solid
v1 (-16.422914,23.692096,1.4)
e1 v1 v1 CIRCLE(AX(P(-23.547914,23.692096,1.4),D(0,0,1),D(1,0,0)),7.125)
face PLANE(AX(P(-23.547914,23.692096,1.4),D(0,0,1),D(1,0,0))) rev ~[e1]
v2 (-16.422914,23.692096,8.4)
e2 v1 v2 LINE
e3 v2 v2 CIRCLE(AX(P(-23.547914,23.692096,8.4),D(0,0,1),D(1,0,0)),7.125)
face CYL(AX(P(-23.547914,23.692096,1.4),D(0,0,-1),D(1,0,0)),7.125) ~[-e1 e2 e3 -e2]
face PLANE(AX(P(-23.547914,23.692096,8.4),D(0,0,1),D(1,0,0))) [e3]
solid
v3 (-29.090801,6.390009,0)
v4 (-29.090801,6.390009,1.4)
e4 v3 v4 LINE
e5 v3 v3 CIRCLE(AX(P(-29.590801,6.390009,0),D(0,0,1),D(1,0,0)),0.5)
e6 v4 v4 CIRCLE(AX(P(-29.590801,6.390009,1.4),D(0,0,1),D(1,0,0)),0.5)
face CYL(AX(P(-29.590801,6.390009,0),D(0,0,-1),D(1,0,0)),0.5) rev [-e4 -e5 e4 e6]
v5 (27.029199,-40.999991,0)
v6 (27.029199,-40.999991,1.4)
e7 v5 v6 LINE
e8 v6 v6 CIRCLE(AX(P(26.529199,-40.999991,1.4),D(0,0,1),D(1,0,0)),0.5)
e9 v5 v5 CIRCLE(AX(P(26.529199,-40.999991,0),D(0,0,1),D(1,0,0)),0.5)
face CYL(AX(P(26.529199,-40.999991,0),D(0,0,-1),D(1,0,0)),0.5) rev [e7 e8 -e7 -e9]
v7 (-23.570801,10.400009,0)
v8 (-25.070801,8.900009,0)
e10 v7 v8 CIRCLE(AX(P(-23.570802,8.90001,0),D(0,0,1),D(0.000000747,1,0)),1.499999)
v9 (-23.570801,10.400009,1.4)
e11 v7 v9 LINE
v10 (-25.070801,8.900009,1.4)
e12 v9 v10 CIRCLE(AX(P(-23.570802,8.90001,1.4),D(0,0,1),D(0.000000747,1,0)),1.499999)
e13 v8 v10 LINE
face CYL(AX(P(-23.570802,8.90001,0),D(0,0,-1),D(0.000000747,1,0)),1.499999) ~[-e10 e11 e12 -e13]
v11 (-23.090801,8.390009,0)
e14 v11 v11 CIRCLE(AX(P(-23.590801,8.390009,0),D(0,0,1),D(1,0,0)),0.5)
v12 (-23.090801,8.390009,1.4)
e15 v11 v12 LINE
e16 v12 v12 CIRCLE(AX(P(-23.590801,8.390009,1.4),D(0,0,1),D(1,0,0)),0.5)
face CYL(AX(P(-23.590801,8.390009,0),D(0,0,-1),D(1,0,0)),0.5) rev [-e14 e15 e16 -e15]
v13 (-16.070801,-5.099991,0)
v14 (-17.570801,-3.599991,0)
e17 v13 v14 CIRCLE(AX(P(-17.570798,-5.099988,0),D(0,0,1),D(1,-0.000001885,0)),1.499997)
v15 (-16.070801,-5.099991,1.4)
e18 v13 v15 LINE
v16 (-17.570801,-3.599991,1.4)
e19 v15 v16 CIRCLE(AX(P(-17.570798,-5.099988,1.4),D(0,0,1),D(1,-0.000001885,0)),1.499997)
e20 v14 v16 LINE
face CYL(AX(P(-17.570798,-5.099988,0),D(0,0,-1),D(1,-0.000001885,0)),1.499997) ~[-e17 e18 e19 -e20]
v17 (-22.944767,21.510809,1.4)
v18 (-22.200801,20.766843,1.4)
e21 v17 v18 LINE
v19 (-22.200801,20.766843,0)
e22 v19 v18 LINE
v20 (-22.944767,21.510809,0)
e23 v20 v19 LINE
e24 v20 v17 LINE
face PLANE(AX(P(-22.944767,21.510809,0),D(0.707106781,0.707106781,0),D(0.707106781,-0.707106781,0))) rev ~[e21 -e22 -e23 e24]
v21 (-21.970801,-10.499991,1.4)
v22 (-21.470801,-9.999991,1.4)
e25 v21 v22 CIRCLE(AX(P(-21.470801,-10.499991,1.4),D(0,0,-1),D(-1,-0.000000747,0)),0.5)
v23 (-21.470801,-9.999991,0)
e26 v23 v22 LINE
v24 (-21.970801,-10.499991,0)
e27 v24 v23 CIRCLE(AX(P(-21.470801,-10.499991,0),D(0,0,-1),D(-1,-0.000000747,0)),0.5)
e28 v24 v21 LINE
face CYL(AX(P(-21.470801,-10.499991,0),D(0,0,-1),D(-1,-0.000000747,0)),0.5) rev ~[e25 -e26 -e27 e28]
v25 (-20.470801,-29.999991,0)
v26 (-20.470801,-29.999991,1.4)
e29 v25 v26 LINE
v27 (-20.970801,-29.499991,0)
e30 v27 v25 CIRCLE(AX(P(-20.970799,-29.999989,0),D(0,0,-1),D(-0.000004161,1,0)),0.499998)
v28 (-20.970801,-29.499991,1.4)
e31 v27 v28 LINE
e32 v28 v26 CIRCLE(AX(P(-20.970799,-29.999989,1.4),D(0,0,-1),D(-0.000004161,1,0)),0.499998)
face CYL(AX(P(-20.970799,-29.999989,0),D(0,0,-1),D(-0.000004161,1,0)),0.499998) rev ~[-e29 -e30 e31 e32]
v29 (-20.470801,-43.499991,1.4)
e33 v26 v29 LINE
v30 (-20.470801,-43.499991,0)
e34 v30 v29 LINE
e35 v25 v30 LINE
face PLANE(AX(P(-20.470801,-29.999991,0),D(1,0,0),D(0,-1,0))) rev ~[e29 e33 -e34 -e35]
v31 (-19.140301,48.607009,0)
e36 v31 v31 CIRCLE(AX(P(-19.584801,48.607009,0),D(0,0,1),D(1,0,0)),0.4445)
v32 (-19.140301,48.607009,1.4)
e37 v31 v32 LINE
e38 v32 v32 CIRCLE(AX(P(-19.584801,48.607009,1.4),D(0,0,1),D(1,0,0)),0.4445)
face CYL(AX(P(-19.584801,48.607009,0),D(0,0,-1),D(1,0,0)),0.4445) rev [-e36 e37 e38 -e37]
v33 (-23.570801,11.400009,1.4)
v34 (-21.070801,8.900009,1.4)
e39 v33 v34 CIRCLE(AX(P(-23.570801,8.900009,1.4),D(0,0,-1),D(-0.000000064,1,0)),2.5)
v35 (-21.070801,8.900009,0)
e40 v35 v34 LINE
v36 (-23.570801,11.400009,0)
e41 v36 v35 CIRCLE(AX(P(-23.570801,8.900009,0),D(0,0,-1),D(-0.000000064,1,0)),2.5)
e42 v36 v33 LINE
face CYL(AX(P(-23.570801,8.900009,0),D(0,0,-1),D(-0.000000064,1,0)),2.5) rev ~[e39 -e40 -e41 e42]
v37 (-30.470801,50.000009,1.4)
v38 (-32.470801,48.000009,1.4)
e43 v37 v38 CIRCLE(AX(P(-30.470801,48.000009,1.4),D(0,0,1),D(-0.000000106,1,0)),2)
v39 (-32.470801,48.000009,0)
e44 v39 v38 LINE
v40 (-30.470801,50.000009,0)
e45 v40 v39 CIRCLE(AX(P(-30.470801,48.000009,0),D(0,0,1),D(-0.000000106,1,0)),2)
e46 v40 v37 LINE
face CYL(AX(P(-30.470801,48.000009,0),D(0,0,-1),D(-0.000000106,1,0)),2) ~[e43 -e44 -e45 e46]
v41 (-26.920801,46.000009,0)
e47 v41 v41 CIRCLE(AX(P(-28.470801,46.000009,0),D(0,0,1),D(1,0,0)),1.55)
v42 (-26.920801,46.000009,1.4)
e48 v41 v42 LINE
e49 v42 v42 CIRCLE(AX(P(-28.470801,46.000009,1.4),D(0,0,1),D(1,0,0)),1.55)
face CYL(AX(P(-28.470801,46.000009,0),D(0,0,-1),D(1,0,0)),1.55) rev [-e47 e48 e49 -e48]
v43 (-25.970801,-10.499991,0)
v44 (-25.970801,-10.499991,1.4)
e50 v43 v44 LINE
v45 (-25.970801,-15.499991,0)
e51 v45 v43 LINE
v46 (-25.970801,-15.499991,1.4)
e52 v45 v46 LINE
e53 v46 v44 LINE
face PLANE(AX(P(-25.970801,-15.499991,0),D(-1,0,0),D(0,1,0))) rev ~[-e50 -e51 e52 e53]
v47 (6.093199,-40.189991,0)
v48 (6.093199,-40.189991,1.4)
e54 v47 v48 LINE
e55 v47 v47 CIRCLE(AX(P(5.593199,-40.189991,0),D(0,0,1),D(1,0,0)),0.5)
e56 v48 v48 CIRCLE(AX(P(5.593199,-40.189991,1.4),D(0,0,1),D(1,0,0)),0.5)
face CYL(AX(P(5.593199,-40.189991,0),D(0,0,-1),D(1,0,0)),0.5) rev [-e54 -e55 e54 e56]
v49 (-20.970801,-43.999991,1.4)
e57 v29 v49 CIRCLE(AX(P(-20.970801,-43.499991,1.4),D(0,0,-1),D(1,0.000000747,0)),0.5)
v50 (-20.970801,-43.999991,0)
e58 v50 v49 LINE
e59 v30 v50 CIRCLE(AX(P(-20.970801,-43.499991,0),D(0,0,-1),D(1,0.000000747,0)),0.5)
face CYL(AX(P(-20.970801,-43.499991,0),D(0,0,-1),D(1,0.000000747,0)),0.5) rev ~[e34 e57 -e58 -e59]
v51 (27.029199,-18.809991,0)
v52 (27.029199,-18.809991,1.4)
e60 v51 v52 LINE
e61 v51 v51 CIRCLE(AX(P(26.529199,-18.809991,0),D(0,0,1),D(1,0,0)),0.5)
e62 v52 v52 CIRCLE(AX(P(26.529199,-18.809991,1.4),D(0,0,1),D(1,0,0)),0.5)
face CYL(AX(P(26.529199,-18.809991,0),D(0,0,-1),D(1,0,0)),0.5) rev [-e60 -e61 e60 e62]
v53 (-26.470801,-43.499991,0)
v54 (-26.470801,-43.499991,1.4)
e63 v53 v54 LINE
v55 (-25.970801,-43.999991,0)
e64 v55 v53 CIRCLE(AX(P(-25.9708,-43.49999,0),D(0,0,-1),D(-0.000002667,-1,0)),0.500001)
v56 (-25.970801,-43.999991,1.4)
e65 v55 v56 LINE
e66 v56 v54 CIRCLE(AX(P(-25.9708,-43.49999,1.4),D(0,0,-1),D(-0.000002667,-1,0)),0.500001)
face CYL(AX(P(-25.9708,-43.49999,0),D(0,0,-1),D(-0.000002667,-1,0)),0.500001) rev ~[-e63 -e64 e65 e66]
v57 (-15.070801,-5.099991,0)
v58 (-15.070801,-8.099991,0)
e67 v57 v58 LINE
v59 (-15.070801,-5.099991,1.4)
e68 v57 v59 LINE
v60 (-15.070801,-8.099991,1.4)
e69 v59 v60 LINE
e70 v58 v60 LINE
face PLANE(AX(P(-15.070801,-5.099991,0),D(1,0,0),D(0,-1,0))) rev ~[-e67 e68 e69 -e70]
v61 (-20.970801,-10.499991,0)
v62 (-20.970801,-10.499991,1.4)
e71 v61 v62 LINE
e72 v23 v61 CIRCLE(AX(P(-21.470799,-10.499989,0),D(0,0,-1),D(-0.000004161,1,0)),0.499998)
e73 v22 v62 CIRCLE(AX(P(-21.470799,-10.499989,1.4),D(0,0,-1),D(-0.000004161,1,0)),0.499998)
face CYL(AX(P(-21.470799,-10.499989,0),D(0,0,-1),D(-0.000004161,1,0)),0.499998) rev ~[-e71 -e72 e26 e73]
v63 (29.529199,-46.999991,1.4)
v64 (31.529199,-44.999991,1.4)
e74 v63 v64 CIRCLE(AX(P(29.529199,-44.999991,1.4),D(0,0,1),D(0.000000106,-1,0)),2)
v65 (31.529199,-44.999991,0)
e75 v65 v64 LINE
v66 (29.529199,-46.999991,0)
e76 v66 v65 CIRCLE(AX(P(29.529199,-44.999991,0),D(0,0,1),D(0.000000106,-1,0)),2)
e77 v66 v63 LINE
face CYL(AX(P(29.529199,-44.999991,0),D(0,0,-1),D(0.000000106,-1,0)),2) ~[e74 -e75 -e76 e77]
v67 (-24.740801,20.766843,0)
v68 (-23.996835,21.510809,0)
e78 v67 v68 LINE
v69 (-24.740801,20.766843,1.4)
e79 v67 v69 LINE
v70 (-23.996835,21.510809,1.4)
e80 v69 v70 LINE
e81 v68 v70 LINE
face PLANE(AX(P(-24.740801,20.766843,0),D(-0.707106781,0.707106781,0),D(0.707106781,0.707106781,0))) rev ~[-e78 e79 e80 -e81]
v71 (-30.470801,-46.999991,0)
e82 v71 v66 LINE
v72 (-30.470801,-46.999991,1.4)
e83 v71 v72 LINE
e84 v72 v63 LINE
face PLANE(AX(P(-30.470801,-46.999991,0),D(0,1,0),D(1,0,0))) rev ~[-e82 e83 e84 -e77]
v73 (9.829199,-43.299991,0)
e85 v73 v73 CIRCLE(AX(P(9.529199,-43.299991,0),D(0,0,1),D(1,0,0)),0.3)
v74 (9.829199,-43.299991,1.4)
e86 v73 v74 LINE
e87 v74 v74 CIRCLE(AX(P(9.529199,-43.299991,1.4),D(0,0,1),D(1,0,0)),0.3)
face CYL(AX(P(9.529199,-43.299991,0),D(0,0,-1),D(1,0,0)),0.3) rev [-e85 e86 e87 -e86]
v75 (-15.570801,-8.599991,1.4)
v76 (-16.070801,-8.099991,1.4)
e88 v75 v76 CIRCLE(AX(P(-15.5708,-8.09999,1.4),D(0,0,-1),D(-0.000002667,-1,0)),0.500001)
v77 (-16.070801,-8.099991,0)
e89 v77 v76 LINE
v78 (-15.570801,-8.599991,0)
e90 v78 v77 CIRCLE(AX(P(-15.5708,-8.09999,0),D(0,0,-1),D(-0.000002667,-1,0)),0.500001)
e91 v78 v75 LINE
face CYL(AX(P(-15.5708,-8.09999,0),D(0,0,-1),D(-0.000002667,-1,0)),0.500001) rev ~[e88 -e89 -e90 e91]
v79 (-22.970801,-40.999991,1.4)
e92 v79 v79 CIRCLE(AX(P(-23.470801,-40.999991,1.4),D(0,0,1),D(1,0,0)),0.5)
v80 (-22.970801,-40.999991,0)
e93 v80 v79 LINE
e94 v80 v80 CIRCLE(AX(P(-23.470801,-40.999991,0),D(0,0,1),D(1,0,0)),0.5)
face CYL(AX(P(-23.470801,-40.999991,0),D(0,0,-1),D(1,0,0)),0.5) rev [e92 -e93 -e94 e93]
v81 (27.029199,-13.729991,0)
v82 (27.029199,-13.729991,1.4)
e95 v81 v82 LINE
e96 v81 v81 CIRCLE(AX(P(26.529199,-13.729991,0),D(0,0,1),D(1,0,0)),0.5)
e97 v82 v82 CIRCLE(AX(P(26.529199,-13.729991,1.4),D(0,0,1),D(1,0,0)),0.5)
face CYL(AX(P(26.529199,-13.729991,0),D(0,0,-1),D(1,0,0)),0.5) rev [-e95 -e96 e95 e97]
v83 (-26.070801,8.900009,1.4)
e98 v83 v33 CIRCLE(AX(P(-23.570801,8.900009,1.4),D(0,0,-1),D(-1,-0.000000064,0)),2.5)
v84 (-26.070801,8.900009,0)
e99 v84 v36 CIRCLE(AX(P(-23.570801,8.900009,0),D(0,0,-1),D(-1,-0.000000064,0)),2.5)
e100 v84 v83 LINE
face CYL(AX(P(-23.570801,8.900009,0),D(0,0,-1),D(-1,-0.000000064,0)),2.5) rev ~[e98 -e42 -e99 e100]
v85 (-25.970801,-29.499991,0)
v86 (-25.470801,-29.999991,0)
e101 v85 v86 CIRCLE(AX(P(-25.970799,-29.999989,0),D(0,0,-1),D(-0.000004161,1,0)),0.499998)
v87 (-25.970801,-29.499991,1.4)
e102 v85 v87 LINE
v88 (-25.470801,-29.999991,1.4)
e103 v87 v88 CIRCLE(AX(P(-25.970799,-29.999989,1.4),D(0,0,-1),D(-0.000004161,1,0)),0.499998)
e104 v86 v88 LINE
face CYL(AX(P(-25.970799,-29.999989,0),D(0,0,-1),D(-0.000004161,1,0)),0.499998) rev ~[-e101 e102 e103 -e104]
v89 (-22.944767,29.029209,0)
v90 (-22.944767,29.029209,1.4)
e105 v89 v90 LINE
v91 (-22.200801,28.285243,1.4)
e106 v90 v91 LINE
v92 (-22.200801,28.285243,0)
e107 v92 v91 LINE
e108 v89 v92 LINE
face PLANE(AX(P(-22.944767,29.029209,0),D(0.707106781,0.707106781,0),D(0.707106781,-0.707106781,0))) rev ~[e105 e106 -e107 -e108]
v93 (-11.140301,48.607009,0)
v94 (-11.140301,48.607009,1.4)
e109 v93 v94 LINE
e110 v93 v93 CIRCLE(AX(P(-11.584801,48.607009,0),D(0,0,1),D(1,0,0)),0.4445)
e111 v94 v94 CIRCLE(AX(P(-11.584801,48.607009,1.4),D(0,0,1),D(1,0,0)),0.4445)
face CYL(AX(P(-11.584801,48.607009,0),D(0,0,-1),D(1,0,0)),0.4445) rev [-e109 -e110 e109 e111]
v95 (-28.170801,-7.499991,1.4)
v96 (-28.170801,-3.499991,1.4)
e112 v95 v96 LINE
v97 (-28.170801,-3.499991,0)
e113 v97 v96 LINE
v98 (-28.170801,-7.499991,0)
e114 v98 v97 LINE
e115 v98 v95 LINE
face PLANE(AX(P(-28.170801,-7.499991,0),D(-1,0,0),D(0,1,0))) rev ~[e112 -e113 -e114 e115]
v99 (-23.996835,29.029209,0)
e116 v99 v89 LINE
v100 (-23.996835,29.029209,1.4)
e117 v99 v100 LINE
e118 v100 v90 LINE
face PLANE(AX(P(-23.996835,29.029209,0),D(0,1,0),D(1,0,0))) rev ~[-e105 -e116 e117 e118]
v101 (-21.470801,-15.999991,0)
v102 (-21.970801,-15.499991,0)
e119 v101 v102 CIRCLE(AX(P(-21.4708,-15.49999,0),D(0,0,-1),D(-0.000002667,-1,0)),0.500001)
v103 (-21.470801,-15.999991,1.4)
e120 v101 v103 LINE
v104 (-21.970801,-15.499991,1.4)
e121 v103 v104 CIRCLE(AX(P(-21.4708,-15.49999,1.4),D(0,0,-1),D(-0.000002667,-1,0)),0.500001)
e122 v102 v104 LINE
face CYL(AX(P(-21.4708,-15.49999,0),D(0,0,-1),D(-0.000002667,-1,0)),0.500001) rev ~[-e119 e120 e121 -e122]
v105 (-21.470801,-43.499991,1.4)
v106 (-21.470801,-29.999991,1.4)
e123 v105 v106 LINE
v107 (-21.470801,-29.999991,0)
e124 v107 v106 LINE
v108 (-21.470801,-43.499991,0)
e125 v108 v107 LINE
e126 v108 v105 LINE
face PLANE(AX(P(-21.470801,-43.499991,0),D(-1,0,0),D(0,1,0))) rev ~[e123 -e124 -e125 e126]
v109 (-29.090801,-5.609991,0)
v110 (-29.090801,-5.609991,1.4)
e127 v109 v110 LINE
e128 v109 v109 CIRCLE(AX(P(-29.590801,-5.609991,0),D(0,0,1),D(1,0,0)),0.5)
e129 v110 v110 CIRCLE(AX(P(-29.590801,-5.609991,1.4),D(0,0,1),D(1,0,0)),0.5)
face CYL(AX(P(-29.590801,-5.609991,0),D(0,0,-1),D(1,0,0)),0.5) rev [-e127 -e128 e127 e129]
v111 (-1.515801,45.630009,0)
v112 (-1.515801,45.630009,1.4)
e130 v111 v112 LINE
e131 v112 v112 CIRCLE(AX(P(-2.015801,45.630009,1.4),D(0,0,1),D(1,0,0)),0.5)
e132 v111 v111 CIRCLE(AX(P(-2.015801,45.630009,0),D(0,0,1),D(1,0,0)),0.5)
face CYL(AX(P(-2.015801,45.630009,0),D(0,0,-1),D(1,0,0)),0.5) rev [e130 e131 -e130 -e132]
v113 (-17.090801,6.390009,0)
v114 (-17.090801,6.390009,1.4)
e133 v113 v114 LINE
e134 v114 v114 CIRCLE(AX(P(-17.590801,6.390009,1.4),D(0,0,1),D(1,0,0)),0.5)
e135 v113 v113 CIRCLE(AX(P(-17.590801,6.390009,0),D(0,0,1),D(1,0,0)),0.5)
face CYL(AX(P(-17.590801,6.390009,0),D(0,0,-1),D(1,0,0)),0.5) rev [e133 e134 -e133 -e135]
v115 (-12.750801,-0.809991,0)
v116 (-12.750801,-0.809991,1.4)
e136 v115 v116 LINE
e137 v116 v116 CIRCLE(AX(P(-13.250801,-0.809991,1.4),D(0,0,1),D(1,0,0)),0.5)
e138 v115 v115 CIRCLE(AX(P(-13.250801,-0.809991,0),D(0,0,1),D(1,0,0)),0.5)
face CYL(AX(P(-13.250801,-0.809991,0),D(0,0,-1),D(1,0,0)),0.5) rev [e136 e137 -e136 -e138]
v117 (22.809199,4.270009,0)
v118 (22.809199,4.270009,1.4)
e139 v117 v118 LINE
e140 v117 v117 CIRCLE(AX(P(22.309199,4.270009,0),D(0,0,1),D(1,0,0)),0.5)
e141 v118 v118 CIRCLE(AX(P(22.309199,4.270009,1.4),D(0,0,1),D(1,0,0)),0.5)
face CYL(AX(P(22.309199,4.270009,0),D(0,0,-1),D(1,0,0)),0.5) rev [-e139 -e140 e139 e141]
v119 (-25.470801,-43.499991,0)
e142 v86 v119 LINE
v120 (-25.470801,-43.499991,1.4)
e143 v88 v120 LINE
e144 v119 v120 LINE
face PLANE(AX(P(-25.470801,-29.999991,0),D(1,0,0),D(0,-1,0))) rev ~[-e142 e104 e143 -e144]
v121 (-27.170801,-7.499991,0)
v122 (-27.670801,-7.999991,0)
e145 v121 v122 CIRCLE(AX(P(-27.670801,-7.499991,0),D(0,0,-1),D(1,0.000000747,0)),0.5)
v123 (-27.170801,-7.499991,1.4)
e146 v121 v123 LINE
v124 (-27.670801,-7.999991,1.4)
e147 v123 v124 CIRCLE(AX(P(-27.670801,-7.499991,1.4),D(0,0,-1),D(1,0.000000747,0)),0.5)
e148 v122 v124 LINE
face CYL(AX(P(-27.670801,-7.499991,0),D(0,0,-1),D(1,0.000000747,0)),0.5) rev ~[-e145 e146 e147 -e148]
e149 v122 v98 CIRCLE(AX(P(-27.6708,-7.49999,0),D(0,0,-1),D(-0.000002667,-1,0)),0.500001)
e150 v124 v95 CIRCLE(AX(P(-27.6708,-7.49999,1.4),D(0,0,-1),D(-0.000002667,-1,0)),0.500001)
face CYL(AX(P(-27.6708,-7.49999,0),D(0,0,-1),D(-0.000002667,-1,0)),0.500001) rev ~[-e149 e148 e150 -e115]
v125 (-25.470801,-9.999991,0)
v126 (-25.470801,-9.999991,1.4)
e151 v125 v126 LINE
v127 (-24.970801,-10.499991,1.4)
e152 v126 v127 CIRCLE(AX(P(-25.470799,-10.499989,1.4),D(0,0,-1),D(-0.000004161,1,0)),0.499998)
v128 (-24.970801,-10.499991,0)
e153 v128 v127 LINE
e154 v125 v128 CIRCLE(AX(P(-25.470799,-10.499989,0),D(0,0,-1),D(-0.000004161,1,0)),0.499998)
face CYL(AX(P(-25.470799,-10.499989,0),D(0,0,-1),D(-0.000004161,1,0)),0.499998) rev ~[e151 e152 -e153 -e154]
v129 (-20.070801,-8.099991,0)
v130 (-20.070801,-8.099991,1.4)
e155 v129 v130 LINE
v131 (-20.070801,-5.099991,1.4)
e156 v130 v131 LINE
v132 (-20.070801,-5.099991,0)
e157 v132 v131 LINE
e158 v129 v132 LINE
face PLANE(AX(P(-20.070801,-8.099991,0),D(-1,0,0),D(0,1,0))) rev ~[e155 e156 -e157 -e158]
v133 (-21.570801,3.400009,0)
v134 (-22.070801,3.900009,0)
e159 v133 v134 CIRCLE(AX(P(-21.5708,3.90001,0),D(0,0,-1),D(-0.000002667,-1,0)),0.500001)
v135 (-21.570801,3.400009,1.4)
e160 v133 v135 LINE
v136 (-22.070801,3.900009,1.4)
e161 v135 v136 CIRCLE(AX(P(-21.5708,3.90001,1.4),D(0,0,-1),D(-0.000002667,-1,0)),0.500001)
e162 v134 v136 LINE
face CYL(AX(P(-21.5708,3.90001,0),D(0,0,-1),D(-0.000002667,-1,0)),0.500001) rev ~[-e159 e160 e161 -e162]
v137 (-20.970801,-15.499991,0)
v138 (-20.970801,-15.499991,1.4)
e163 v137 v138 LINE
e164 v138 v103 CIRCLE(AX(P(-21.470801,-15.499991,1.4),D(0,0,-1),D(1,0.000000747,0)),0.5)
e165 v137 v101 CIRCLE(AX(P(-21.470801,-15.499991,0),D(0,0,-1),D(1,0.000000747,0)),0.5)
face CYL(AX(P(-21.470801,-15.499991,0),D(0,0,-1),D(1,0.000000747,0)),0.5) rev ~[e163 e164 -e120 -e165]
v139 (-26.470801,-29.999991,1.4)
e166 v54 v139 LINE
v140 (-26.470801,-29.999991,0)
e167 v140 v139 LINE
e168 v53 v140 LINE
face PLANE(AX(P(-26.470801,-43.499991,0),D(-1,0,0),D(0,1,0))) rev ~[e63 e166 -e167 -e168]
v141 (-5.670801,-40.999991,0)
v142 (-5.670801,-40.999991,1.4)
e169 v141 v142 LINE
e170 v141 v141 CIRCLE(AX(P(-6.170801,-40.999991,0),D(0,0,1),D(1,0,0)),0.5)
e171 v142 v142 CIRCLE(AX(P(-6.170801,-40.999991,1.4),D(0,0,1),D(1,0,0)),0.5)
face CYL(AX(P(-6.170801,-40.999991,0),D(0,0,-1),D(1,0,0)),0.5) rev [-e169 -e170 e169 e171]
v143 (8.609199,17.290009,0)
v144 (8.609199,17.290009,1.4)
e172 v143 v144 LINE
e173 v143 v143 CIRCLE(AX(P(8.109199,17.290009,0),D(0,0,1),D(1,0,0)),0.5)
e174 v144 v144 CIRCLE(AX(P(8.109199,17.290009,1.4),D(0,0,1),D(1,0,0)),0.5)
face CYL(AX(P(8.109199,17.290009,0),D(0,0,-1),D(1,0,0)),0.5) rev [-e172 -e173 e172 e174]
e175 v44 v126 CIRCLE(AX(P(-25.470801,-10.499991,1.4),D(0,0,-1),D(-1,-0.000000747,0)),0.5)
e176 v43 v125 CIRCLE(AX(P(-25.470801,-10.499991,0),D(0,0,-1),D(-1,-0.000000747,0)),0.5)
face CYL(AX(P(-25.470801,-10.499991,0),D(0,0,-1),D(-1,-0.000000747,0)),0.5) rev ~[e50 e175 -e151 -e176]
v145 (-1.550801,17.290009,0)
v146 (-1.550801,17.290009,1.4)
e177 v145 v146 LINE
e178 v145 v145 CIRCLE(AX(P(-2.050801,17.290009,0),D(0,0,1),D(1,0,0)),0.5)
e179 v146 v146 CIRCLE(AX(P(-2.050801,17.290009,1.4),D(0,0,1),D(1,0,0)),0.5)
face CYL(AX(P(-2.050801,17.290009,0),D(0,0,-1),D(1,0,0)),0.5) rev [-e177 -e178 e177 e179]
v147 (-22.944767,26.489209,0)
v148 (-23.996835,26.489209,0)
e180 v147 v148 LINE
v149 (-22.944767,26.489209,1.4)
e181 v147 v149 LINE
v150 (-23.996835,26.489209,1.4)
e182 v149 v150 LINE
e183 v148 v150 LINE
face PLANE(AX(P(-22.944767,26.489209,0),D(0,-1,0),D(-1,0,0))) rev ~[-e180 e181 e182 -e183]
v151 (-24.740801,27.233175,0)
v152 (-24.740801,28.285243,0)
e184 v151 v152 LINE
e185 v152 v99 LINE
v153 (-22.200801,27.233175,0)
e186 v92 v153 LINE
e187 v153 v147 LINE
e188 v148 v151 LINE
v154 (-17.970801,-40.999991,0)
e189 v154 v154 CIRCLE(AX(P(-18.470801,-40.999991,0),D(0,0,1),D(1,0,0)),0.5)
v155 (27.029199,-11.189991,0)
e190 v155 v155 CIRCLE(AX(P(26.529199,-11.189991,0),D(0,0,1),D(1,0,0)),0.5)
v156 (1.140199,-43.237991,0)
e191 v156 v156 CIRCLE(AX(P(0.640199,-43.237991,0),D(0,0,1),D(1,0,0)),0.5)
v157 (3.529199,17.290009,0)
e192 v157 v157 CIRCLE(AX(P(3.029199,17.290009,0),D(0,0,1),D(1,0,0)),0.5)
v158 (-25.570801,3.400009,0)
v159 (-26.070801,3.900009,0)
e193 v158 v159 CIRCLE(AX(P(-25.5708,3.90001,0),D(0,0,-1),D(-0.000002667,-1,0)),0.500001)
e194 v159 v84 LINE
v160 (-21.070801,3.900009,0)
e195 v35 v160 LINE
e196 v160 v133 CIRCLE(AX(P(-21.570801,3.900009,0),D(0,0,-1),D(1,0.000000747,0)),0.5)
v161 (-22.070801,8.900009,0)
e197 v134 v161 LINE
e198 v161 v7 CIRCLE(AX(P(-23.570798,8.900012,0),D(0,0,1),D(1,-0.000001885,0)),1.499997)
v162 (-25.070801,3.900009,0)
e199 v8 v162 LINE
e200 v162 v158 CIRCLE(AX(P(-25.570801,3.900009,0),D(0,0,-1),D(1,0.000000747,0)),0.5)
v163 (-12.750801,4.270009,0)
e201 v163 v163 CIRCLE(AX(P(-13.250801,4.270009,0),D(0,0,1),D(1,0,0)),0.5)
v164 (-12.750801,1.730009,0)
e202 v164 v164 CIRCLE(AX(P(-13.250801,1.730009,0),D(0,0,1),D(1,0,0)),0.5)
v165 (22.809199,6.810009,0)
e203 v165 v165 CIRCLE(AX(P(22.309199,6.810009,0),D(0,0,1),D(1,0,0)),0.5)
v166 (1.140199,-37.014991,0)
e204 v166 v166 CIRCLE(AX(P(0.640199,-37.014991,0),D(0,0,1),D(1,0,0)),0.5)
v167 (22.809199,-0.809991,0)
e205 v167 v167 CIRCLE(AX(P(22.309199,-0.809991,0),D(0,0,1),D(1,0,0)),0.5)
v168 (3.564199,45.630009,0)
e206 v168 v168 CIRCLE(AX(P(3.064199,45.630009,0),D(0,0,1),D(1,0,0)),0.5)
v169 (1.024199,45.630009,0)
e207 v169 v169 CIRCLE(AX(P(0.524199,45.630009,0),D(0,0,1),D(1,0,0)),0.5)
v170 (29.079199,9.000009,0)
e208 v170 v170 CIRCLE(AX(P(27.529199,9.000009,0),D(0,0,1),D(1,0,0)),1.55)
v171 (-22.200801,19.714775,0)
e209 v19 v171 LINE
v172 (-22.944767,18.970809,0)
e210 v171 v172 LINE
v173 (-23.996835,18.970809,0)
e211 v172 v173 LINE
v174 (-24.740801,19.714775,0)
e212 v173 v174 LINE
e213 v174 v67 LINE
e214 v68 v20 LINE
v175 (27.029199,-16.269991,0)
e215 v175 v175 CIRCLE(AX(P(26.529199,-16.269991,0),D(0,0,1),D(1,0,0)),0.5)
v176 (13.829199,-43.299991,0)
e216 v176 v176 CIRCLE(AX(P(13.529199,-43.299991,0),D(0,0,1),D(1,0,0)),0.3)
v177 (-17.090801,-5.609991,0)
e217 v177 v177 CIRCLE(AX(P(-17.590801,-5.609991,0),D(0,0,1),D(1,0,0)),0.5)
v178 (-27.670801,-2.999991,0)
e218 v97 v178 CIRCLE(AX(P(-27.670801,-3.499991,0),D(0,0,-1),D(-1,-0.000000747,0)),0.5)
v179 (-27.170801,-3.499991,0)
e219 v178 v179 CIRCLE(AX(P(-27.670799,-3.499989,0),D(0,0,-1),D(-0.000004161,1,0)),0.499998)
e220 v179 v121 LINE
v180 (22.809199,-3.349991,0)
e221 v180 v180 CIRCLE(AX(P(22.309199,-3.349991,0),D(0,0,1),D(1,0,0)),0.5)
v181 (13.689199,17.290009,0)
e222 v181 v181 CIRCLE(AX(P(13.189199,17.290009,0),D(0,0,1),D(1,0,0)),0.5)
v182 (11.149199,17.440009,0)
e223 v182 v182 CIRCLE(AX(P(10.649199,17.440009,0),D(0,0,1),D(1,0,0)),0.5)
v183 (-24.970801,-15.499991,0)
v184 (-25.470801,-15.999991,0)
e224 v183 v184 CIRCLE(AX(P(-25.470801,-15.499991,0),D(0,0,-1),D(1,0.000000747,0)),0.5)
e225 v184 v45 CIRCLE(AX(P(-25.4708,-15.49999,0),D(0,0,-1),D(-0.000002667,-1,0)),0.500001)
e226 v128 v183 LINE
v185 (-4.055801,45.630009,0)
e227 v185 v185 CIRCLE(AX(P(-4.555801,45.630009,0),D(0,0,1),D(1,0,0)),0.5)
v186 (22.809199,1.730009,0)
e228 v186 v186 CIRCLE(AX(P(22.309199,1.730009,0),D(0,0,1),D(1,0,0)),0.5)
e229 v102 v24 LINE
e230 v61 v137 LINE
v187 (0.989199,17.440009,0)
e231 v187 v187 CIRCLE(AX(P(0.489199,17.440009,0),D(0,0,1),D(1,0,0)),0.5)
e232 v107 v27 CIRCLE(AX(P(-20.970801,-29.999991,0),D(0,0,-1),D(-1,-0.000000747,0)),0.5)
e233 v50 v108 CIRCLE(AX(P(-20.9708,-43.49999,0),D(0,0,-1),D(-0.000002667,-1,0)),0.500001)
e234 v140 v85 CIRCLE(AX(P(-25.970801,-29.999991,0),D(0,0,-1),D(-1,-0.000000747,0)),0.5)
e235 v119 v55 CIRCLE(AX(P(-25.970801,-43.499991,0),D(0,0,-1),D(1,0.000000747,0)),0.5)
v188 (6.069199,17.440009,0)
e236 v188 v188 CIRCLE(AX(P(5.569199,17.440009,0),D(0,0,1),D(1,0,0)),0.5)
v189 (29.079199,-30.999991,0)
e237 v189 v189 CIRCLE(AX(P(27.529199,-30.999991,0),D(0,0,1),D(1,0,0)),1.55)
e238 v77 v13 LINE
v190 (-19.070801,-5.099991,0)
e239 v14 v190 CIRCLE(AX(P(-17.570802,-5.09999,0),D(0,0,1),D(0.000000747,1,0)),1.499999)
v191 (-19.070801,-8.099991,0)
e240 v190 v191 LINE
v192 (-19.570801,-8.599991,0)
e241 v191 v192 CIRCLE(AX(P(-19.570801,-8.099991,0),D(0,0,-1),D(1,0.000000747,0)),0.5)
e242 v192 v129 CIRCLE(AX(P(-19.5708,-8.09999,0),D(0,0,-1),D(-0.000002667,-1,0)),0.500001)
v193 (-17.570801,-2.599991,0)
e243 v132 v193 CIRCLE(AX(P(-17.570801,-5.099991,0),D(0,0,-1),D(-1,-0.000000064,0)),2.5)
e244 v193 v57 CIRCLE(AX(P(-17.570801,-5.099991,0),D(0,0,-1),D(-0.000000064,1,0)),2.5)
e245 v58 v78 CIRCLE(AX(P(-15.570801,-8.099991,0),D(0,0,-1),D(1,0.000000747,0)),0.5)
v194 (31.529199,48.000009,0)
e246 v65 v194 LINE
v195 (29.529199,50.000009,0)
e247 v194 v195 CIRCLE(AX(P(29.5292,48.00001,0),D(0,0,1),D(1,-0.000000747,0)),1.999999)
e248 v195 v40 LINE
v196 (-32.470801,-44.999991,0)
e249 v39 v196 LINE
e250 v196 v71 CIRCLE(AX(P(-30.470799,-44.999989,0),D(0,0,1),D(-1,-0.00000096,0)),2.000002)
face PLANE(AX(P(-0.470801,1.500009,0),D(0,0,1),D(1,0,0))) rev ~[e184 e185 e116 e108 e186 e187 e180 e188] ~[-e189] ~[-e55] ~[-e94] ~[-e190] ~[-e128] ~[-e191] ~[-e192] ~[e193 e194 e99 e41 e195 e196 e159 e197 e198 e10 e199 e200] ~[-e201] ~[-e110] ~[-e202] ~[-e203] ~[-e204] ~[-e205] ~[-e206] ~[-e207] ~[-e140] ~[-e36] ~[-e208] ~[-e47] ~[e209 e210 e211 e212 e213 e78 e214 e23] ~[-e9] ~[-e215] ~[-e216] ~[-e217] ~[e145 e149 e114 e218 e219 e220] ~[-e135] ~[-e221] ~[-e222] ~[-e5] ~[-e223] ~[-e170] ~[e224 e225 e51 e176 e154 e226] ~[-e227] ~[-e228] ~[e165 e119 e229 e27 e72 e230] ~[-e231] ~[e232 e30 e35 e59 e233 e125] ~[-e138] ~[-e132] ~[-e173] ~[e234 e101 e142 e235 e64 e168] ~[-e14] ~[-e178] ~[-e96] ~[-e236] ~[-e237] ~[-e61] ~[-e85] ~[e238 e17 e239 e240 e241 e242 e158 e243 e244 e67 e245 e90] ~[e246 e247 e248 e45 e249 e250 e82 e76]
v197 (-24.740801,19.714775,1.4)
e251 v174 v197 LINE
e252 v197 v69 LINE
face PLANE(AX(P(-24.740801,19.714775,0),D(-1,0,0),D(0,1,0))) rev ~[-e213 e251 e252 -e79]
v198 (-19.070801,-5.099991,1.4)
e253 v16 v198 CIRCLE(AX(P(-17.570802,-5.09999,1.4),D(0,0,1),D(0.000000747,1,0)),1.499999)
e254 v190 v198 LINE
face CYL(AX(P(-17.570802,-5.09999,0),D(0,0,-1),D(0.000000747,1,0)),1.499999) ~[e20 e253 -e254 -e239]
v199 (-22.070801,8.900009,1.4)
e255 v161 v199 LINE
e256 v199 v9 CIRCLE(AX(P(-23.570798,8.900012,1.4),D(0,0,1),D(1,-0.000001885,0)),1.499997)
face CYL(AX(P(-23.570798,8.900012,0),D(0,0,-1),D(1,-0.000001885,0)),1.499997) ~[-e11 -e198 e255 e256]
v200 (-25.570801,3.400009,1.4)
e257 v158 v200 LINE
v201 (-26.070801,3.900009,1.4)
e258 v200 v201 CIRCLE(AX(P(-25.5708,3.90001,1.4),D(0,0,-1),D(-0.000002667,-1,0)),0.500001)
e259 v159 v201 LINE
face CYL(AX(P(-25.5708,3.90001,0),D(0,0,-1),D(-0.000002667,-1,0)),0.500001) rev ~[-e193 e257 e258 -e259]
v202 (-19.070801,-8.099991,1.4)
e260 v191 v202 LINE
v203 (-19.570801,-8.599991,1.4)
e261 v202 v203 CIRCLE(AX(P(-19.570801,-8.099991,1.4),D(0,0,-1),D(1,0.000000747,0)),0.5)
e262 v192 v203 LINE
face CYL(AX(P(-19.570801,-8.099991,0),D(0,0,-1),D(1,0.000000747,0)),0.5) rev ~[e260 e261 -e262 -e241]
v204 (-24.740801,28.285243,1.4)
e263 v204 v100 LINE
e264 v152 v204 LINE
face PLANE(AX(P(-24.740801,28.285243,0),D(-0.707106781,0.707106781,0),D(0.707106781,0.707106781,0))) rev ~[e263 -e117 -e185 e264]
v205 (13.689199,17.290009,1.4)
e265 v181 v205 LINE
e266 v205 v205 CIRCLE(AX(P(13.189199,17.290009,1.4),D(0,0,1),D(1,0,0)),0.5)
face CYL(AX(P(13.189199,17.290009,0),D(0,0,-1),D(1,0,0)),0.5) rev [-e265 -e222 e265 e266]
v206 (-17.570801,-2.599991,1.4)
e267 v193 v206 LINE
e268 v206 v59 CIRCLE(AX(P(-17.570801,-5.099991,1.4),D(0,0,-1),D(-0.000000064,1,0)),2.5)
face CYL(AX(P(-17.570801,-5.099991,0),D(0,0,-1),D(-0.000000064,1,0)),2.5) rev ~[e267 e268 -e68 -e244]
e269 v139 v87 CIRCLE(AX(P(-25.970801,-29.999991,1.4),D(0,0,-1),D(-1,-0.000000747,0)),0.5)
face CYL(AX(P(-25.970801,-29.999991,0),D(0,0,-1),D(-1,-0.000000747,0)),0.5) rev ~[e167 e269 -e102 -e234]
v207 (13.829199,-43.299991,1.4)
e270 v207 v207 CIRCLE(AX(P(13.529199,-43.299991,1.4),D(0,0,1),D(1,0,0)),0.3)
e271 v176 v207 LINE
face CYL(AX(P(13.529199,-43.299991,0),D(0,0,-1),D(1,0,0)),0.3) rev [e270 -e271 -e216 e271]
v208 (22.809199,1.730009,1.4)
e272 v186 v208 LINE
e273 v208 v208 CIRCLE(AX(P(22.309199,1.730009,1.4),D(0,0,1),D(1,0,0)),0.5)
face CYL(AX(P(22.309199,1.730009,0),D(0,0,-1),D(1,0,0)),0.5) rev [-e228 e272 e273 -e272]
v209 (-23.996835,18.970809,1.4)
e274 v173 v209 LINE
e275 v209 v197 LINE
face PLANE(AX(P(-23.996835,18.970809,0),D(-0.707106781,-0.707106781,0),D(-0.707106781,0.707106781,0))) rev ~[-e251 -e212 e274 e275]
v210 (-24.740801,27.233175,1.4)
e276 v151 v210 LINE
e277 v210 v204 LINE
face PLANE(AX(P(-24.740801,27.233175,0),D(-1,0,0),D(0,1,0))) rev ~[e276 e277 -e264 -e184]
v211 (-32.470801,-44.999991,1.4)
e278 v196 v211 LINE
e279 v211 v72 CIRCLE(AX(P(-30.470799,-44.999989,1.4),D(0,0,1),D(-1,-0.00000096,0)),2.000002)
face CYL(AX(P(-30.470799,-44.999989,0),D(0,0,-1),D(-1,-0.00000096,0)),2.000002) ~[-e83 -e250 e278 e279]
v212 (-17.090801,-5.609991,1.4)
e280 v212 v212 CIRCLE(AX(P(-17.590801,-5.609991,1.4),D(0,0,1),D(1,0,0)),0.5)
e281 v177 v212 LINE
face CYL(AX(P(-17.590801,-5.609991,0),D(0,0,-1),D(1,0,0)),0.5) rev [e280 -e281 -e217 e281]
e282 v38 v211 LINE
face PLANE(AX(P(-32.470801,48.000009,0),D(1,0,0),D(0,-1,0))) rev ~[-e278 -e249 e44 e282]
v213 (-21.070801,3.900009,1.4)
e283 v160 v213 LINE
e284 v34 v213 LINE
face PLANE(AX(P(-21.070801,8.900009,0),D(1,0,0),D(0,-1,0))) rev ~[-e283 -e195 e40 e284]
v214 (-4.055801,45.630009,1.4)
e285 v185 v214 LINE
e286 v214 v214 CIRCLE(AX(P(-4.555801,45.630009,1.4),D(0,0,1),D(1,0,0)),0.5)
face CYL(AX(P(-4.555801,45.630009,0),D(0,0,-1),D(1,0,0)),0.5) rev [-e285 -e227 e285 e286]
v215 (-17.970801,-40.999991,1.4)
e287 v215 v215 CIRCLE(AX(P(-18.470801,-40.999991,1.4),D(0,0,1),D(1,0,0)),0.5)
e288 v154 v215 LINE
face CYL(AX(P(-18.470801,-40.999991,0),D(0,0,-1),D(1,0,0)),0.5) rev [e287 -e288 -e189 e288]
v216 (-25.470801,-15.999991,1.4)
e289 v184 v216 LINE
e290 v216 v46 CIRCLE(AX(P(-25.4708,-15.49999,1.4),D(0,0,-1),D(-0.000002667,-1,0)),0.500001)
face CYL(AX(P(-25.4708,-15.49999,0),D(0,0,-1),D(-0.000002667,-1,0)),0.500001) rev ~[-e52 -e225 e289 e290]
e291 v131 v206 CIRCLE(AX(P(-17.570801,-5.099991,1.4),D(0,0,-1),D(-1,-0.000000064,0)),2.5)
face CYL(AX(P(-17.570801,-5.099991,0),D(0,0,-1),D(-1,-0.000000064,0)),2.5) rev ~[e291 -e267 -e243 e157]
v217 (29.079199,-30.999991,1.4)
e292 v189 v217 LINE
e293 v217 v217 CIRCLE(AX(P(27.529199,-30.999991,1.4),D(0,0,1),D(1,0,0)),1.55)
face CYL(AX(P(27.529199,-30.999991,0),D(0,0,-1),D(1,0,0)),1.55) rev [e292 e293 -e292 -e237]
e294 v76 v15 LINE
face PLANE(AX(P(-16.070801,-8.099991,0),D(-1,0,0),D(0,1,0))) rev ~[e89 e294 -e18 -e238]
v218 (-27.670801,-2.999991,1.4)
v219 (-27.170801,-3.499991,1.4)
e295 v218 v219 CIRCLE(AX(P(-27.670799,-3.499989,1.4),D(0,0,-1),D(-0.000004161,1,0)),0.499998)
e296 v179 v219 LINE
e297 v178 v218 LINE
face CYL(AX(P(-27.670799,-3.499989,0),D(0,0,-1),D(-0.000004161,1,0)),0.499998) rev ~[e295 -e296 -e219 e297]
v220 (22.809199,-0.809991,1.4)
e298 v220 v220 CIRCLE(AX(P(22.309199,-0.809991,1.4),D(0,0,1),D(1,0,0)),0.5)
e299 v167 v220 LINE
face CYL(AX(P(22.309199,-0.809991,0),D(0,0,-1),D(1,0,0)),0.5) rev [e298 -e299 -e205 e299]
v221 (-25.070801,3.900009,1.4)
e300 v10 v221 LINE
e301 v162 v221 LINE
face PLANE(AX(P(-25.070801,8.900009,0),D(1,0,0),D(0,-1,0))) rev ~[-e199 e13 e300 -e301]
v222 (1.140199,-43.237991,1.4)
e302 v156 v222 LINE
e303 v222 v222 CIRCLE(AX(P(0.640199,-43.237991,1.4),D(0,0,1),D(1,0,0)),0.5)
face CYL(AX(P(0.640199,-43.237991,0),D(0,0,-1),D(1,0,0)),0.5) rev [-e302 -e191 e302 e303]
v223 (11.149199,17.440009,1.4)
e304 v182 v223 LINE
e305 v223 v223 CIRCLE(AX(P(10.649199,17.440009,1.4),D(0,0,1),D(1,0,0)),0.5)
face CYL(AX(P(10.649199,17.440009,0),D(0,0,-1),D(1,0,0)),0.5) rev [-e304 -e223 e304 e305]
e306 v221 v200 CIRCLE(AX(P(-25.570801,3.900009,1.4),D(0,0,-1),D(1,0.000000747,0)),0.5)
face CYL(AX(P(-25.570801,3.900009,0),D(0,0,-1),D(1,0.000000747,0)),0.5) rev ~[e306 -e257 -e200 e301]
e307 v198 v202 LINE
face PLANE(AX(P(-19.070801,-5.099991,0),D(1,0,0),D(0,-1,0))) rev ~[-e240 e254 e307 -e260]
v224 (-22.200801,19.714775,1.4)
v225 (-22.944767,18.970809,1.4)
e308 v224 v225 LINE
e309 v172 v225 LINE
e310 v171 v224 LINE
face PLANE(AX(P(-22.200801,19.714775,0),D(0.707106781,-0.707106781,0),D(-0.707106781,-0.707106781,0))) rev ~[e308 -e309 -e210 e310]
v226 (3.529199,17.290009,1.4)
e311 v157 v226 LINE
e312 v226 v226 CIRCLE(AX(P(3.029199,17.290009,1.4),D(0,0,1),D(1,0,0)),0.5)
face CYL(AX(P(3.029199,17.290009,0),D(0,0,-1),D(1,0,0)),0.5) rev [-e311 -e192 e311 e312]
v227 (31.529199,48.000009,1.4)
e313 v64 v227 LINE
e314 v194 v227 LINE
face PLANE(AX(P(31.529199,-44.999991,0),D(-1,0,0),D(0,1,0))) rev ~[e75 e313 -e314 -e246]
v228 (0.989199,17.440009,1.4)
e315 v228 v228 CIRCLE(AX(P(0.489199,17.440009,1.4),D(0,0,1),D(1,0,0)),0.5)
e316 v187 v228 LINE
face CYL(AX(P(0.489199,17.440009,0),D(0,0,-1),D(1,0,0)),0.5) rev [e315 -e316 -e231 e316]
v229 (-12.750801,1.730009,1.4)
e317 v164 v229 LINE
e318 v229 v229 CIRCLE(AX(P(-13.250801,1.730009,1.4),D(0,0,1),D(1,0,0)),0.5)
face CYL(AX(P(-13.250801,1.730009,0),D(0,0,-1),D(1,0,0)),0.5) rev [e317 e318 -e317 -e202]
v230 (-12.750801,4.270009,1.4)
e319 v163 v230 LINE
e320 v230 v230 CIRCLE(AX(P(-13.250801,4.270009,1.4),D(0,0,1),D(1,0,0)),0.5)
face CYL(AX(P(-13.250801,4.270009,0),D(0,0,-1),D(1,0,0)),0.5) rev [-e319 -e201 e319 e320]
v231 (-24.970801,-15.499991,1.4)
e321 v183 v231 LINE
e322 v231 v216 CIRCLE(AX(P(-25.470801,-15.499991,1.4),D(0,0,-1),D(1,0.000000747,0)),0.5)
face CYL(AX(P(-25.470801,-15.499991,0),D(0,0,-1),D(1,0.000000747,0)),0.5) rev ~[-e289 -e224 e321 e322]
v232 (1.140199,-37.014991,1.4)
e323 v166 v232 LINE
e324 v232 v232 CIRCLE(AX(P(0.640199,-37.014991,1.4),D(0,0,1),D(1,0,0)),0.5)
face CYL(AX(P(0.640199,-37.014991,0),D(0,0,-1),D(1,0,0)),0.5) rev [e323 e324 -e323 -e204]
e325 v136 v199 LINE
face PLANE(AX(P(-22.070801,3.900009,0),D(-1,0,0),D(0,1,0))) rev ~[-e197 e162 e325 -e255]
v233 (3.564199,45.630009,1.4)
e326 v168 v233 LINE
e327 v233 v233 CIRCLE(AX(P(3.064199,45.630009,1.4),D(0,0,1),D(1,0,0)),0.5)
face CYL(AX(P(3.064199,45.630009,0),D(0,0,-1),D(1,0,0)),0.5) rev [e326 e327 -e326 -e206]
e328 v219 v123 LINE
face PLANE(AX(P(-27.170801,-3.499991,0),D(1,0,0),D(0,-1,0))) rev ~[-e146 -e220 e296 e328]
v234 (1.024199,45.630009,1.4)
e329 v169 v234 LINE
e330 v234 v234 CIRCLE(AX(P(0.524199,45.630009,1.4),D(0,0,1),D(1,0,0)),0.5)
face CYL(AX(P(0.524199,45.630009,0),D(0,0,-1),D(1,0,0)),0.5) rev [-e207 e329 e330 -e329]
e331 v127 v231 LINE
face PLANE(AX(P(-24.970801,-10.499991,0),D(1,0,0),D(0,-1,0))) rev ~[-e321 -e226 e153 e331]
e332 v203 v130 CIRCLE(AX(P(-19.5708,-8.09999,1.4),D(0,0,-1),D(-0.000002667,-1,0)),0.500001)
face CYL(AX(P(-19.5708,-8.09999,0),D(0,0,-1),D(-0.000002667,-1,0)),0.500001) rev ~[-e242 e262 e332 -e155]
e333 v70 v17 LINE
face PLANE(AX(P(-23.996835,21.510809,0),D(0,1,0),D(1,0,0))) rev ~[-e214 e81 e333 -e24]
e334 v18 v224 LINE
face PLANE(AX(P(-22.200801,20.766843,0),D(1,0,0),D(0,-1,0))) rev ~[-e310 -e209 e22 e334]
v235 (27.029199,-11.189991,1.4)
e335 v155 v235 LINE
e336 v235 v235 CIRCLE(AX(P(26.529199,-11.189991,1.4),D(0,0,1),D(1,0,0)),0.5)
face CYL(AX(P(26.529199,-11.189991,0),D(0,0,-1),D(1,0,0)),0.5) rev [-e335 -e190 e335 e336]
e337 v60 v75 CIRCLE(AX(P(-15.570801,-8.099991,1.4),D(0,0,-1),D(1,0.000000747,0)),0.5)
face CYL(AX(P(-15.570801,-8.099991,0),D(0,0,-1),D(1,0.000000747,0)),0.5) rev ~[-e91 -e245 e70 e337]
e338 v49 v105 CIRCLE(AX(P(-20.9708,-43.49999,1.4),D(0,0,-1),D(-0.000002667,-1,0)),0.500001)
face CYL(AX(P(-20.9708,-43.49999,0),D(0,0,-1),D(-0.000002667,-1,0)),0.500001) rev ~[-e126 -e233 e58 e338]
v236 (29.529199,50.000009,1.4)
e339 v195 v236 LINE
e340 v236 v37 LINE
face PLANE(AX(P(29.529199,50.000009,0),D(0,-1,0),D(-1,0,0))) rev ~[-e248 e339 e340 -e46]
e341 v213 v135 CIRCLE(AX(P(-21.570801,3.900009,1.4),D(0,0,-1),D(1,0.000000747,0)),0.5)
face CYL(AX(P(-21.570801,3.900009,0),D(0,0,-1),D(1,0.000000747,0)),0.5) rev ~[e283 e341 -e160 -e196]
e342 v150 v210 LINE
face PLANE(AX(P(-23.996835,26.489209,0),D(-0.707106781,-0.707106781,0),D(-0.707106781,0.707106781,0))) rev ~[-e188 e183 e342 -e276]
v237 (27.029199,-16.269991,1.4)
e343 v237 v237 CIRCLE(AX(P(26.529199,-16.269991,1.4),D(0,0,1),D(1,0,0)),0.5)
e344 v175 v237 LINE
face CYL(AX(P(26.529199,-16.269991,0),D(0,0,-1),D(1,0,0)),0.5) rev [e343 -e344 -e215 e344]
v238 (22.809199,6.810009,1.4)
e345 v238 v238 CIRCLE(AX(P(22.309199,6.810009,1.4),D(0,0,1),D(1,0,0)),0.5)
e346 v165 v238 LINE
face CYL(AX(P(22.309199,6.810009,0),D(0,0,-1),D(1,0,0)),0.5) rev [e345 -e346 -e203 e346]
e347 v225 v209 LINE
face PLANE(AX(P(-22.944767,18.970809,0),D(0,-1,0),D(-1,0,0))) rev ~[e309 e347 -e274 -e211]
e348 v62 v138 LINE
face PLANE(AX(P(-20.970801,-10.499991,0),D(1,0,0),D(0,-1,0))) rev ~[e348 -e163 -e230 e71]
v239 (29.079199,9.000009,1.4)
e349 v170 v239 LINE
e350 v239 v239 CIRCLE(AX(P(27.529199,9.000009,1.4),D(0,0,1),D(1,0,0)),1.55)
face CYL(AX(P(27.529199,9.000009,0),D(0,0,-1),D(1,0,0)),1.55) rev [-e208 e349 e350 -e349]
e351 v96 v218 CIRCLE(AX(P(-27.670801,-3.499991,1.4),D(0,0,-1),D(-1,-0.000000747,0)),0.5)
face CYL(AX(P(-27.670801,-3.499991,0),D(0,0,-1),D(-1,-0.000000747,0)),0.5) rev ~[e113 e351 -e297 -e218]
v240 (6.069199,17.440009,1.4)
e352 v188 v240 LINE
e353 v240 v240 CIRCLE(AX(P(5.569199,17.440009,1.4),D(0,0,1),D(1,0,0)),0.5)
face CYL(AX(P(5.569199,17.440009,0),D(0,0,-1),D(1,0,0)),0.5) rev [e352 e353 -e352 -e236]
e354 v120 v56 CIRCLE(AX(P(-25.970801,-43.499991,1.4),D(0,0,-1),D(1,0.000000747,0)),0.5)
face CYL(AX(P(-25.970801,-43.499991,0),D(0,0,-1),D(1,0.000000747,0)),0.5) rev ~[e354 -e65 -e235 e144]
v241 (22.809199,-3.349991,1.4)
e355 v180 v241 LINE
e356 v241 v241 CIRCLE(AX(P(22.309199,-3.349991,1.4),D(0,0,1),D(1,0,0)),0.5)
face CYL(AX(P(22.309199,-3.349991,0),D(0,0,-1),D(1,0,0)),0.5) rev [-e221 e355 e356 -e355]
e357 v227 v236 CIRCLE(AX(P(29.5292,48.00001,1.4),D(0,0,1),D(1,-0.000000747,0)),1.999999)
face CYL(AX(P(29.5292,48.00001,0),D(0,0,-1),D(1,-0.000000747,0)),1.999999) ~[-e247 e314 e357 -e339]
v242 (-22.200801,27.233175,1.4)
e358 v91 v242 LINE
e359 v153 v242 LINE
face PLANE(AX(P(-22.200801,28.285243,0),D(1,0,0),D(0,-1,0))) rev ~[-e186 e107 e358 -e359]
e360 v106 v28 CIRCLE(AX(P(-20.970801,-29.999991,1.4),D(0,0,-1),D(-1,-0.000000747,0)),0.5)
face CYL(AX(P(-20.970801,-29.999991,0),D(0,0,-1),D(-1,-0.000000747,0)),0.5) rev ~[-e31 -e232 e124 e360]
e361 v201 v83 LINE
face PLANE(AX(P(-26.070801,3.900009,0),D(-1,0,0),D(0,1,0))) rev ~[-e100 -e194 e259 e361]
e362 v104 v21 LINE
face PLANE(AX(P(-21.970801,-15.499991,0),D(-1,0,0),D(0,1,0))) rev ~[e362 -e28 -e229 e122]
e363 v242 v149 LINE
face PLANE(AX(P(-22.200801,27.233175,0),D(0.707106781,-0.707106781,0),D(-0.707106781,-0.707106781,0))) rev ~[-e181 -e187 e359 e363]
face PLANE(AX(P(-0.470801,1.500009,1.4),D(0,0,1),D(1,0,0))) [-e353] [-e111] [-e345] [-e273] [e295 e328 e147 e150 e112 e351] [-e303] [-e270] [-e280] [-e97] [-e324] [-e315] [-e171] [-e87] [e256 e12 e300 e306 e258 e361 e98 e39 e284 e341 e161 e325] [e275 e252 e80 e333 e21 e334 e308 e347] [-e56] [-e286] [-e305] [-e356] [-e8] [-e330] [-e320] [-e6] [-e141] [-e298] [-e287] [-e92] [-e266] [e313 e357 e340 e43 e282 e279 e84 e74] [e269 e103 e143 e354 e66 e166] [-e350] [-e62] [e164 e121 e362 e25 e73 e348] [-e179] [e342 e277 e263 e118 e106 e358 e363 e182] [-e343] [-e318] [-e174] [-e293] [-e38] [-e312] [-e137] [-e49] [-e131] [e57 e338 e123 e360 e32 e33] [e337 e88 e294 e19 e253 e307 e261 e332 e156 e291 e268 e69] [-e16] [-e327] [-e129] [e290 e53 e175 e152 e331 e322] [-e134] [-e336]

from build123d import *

# Parameters (mm, degrees)
F0_R     = 0.5
F0_R_2   = 0.3
F0_R_3   = 1.55
F0_R_4   = 0.4445
F1_DEPTH = 1.4
F2_R     = 7.125
F3_DEPTH = 7


with BuildPart() as f1:
    # F0 (on Top) → F1 (new body)
    with BuildSketch(Plane.XY):
        with BuildLine():
            Line((31.529199, -44.999991), (31.529199, 48.000009))
            ThreePointArc((31.529199, 48.000009), (30.943413, 49.414223), (29.529199, 50.000009))
            Line((29.529199, 50.000009), (-30.470801, 50.000009))
            ThreePointArc((-30.470801, 50.000009), (-31.885014, 49.414223), (-32.470801, 48.000009))
            Line((-32.470801, 48.000009), (-32.470801, -44.999991))
            ThreePointArc((-32.470801, -44.999991), (-31.885014, -46.414204), (-30.470801, -46.999991))
            Line((-30.470801, -46.999991), (29.529199, -46.999991))
            ThreePointArc((29.529199, -46.999991), (30.943413, -46.414204), (31.529199, -44.999991))
        make_face()
        with BuildLine():
            ThreePointArc((-25.970801, -29.499991), (-25.617247, -29.646437), (-25.470801, -29.999991))
            Line((-25.470801, -29.999991), (-25.470801, -43.499991))
            ThreePointArc((-25.470801, -43.499991), (-25.617247, -43.853544), (-25.970801, -43.999991))
            ThreePointArc((-25.970801, -43.999991), (-26.324354, -43.853544), (-26.470801, -43.499991))
            Line((-26.470801, -43.499991), (-26.470801, -29.999991))
            ThreePointArc((-26.470801, -29.999991), (-26.324354, -29.646437), (-25.970801, -29.499991))
        make_face(mode=Mode.SUBTRACT)
        with Locations((-23.470801, -40.999991)):
            Circle(F0_R, mode=Mode.SUBTRACT)
        with Locations((-18.470801, -40.999991)):
            Circle(F0_R, mode=Mode.SUBTRACT)
        with BuildLine():
            ThreePointArc((-20.970801, -29.499991), (-20.617247, -29.646437), (-20.470801, -29.999991))
            Line((-20.470801, -29.999991), (-20.470801, -43.499991))
            ThreePointArc((-20.470801, -43.499991), (-20.617247, -43.853544), (-20.970801, -43.999991))
            ThreePointArc((-20.970801, -43.999991), (-21.324354, -43.853544), (-21.470801, -43.499991))
            Line((-21.470801, -43.499991), (-21.470801, -29.999991))
            ThreePointArc((-21.470801, -29.999991), (-21.324354, -29.646437), (-20.970801, -29.499991))
        make_face(mode=Mode.SUBTRACT)
        with Locations((-6.170801, -40.999991)):
            Circle(F0_R, mode=Mode.SUBTRACT)
        with BuildLine():
            ThreePointArc((-25.470801, -9.999991), (-25.117247, -10.146437), (-24.970801, -10.499991))
            Line((-24.970801, -10.499991), (-24.970801, -15.499991))
            ThreePointArc((-24.970801, -15.499991), (-25.117247, -15.853544), (-25.470801, -15.999991))
            ThreePointArc((-25.470801, -15.999991), (-25.824354, -15.853544), (-25.970801, -15.499991))
            Line((-25.970801, -15.499991), (-25.970801, -10.499991))
            ThreePointArc((-25.970801, -10.499991), (-25.824354, -10.146437), (-25.470801, -9.999991))
        make_face(mode=Mode.SUBTRACT)
        with BuildLine():
            ThreePointArc((-21.470801, -9.999991), (-21.117247, -10.146437), (-20.970801, -10.499991))
            Line((-20.970801, -10.499991), (-20.970801, -15.499991))
            ThreePointArc((-20.970801, -15.499991), (-21.117247, -15.853544), (-21.470801, -15.999991))
            ThreePointArc((-21.470801, -15.999991), (-21.824354, -15.853544), (-21.970801, -15.499991))
            Line((-21.970801, -15.499991), (-21.970801, -10.499991))
            ThreePointArc((-21.970801, -10.499991), (-21.824354, -10.146437), (-21.470801, -9.999991))
        make_face(mode=Mode.SUBTRACT)
        with Locations((-29.590801, -5.609991)):
            Circle(F0_R, mode=Mode.SUBTRACT)
        with BuildLine():
            ThreePointArc((-27.670801, -2.999991), (-27.317247, -3.146437), (-27.170801, -3.499991))
            Line((-27.170801, -3.499991), (-27.170801, -7.499991))
            ThreePointArc((-27.170801, -7.499991), (-27.317247, -7.853544), (-27.670801, -7.999991))
            ThreePointArc((-27.670801, -7.999991), (-28.024354, -7.853544), (-28.170801, -7.499991))
            Line((-28.170801, -7.499991), (-28.170801, -3.499991))
            ThreePointArc((-28.170801, -3.499991), (-28.024354, -3.146437), (-27.670801, -2.999991))
        make_face(mode=Mode.SUBTRACT)
        with Locations((-17.590801, -5.609991)):
            Circle(F0_R, mode=Mode.SUBTRACT)
        with BuildLine():
            ThreePointArc((-19.070801, -8.099991), (-19.217247, -8.453544), (-19.570801, -8.599991))
            ThreePointArc((-19.570801, -8.599991), (-19.924354, -8.453544), (-20.070801, -8.099991))
            Line((-20.070801, -8.099991), (-20.070801, -5.099991))
            ThreePointArc((-20.070801, -5.099991), (-19.338568, -3.332224), (-17.570801, -2.599991))
            ThreePointArc((-17.570801, -2.599991), (-15.803034, -3.332224), (-15.070801, -5.099991))
            Line((-15.070801, -5.099991), (-15.070801, -8.099991))
            ThreePointArc((-15.070801, -8.099991), (-15.217247, -8.453544), (-15.570801, -8.599991))
            ThreePointArc((-15.570801, -8.599991), (-15.924354, -8.453544), (-16.070801, -8.099991))
            Line((-16.070801, -8.099991), (-16.070801, -5.099991))
            ThreePointArc((-16.070801, -5.099991), (-16.51014, -4.03933), (-17.570801, -3.599991))
            ThreePointArc((-17.570801, -3.599991), (-18.631461, -4.03933), (-19.070801, -5.099991))
            Line((-19.070801, -5.099991), (-19.070801, -8.099991))
        make_face(mode=Mode.SUBTRACT)
        with Locations((-13.250801, -0.809991)):
            Circle(F0_R, mode=Mode.SUBTRACT)
        with Locations((0.640199, -43.237991)):
            Circle(F0_R, mode=Mode.SUBTRACT)
        with Locations((0.640199, -37.014991)):
            Circle(F0_R, mode=Mode.SUBTRACT)
        with Locations((5.593199, -40.189991)):
            Circle(F0_R, mode=Mode.SUBTRACT)
        with Locations((9.529199, -43.299991)):
            Circle(F0_R_2, mode=Mode.SUBTRACT)
        with Locations((13.529199, -43.299991)):
            Circle(F0_R_2, mode=Mode.SUBTRACT)
        with Locations((26.529199, -40.999991)):
            Circle(F0_R, mode=Mode.SUBTRACT)
        with Locations((27.529199, -30.999991)):
            Circle(F0_R_3, mode=Mode.SUBTRACT)
        with Locations((26.529199, -18.809991)):
            Circle(F0_R, mode=Mode.SUBTRACT)
        with Locations((26.529199, -16.269991)):
            Circle(F0_R, mode=Mode.SUBTRACT)
        with Locations((26.529199, -13.729991)):
            Circle(F0_R, mode=Mode.SUBTRACT)
        with Locations((26.529199, -11.189991)):
            Circle(F0_R, mode=Mode.SUBTRACT)
        with Locations((22.309199, -3.349991)):
            Circle(F0_R, mode=Mode.SUBTRACT)
        with Locations((22.309199, -0.809991)):
            Circle(F0_R, mode=Mode.SUBTRACT)
        with Locations((-29.590801, 6.390009)):
            Circle(F0_R, mode=Mode.SUBTRACT)
        with BuildLine():
            ThreePointArc((-25.070801, 3.900009), (-25.217247, 3.546456), (-25.570801, 3.400009))
            ThreePointArc((-25.570801, 3.400009), (-25.924354, 3.546456), (-26.070801, 3.900009))
            Line((-26.070801, 3.900009), (-26.070801, 8.900009))
            ThreePointArc((-26.070801, 8.900009), (-25.338568, 10.667776), (-23.570801, 11.400009))
            ThreePointArc((-23.570801, 11.400009), (-21.803034, 10.667776), (-21.070801, 8.900009))
            Line((-21.070801, 8.900009), (-21.070801, 3.900009))
            ThreePointArc((-21.070801, 3.900009), (-21.217247, 3.546456), (-21.570801, 3.400009))
            ThreePointArc((-21.570801, 3.400009), (-21.924354, 3.546456), (-22.070801, 3.900009))
            Line((-22.070801, 3.900009), (-22.070801, 8.900009))
            ThreePointArc((-22.070801, 8.900009), (-22.51014, 9.96067), (-23.570801, 10.400009))
            ThreePointArc((-23.570801, 10.400009), (-24.631461, 9.96067), (-25.070801, 8.900009))
            Line((-25.070801, 8.900009), (-25.070801, 3.900009))
        make_face(mode=Mode.SUBTRACT)
        with Locations((-17.590801, 6.390009)):
            Circle(F0_R, mode=Mode.SUBTRACT)
        with Locations((-23.590801, 8.390009)):
            Circle(F0_R, mode=Mode.SUBTRACT)
        Polygon((-22.200801, 19.714775), (-22.944767, 18.970809), (-23.996835, 18.970809), (-24.740801, 19.714775), (-24.740801, 20.766843), (-23.996835, 21.510809), (-22.944767, 21.510809), (-22.200801, 20.766843), align=None, mode=Mode.SUBTRACT)
        with Locations((-13.250801, 1.730009)):
            Circle(F0_R, mode=Mode.SUBTRACT)
        with Locations((-13.250801, 4.270009)):
            Circle(F0_R, mode=Mode.SUBTRACT)
        with Locations((-2.050801, 17.290009)):
            Circle(F0_R, mode=Mode.SUBTRACT)
        Polygon((-22.200801, 27.233175), (-22.944767, 26.489209), (-23.996835, 26.489209), (-24.740801, 27.233175), (-24.740801, 28.285243), (-23.996835, 29.029209), (-22.944767, 29.029209), (-22.200801, 28.285243), align=None, mode=Mode.SUBTRACT)
        with Locations((-28.470801, 46.000009)):
            Circle(F0_R_3, mode=Mode.SUBTRACT)
        with Locations((-19.584801, 48.607009)):
            Circle(F0_R_4, mode=Mode.SUBTRACT)
        with Locations((-11.584801, 48.607009)):
            Circle(F0_R_4, mode=Mode.SUBTRACT)
        with Locations((-4.555801, 45.630009)):
            Circle(F0_R, mode=Mode.SUBTRACT)
        with Locations((-2.015801, 45.630009)):
            Circle(F0_R, mode=Mode.SUBTRACT)
        with Locations((0.489199, 17.440009)):
            Circle(F0_R, mode=Mode.SUBTRACT)
        with Locations((3.029199, 17.290009)):
            Circle(F0_R, mode=Mode.SUBTRACT)
        with Locations((5.569199, 17.440009)):
            Circle(F0_R, mode=Mode.SUBTRACT)
        with Locations((8.109199, 17.290009)):
            Circle(F0_R, mode=Mode.SUBTRACT)
        with Locations((10.649199, 17.440009)):
            Circle(F0_R, mode=Mode.SUBTRACT)
        with Locations((13.189199, 17.290009)):
            Circle(F0_R, mode=Mode.SUBTRACT)
        with Locations((22.309199, 1.730009)):
            Circle(F0_R, mode=Mode.SUBTRACT)
        with Locations((22.309199, 4.270009)):
            Circle(F0_R, mode=Mode.SUBTRACT)
        with Locations((22.309199, 6.810009)):
            Circle(F0_R, mode=Mode.SUBTRACT)
        with Locations((27.529199, 9.000009)):
            Circle(F0_R_3, mode=Mode.SUBTRACT)
        with Locations((0.524199, 45.630009)):
            Circle(F0_R, mode=Mode.SUBTRACT)
        with Locations((3.064199, 45.630009)):
            Circle(F0_R, mode=Mode.SUBTRACT)
    extrude(amount=F1_DEPTH)


with BuildPart() as f3:
    # F2 (on face) → F3 (new body)
    with BuildSketch(Plane.XY.offset(1.4)):
        with Locations((-23.547914, 23.692096)):
            Circle(F2_R)
    extrude(amount=F3_DEPTH)


solid = Compound([f1.part, f3.part])
